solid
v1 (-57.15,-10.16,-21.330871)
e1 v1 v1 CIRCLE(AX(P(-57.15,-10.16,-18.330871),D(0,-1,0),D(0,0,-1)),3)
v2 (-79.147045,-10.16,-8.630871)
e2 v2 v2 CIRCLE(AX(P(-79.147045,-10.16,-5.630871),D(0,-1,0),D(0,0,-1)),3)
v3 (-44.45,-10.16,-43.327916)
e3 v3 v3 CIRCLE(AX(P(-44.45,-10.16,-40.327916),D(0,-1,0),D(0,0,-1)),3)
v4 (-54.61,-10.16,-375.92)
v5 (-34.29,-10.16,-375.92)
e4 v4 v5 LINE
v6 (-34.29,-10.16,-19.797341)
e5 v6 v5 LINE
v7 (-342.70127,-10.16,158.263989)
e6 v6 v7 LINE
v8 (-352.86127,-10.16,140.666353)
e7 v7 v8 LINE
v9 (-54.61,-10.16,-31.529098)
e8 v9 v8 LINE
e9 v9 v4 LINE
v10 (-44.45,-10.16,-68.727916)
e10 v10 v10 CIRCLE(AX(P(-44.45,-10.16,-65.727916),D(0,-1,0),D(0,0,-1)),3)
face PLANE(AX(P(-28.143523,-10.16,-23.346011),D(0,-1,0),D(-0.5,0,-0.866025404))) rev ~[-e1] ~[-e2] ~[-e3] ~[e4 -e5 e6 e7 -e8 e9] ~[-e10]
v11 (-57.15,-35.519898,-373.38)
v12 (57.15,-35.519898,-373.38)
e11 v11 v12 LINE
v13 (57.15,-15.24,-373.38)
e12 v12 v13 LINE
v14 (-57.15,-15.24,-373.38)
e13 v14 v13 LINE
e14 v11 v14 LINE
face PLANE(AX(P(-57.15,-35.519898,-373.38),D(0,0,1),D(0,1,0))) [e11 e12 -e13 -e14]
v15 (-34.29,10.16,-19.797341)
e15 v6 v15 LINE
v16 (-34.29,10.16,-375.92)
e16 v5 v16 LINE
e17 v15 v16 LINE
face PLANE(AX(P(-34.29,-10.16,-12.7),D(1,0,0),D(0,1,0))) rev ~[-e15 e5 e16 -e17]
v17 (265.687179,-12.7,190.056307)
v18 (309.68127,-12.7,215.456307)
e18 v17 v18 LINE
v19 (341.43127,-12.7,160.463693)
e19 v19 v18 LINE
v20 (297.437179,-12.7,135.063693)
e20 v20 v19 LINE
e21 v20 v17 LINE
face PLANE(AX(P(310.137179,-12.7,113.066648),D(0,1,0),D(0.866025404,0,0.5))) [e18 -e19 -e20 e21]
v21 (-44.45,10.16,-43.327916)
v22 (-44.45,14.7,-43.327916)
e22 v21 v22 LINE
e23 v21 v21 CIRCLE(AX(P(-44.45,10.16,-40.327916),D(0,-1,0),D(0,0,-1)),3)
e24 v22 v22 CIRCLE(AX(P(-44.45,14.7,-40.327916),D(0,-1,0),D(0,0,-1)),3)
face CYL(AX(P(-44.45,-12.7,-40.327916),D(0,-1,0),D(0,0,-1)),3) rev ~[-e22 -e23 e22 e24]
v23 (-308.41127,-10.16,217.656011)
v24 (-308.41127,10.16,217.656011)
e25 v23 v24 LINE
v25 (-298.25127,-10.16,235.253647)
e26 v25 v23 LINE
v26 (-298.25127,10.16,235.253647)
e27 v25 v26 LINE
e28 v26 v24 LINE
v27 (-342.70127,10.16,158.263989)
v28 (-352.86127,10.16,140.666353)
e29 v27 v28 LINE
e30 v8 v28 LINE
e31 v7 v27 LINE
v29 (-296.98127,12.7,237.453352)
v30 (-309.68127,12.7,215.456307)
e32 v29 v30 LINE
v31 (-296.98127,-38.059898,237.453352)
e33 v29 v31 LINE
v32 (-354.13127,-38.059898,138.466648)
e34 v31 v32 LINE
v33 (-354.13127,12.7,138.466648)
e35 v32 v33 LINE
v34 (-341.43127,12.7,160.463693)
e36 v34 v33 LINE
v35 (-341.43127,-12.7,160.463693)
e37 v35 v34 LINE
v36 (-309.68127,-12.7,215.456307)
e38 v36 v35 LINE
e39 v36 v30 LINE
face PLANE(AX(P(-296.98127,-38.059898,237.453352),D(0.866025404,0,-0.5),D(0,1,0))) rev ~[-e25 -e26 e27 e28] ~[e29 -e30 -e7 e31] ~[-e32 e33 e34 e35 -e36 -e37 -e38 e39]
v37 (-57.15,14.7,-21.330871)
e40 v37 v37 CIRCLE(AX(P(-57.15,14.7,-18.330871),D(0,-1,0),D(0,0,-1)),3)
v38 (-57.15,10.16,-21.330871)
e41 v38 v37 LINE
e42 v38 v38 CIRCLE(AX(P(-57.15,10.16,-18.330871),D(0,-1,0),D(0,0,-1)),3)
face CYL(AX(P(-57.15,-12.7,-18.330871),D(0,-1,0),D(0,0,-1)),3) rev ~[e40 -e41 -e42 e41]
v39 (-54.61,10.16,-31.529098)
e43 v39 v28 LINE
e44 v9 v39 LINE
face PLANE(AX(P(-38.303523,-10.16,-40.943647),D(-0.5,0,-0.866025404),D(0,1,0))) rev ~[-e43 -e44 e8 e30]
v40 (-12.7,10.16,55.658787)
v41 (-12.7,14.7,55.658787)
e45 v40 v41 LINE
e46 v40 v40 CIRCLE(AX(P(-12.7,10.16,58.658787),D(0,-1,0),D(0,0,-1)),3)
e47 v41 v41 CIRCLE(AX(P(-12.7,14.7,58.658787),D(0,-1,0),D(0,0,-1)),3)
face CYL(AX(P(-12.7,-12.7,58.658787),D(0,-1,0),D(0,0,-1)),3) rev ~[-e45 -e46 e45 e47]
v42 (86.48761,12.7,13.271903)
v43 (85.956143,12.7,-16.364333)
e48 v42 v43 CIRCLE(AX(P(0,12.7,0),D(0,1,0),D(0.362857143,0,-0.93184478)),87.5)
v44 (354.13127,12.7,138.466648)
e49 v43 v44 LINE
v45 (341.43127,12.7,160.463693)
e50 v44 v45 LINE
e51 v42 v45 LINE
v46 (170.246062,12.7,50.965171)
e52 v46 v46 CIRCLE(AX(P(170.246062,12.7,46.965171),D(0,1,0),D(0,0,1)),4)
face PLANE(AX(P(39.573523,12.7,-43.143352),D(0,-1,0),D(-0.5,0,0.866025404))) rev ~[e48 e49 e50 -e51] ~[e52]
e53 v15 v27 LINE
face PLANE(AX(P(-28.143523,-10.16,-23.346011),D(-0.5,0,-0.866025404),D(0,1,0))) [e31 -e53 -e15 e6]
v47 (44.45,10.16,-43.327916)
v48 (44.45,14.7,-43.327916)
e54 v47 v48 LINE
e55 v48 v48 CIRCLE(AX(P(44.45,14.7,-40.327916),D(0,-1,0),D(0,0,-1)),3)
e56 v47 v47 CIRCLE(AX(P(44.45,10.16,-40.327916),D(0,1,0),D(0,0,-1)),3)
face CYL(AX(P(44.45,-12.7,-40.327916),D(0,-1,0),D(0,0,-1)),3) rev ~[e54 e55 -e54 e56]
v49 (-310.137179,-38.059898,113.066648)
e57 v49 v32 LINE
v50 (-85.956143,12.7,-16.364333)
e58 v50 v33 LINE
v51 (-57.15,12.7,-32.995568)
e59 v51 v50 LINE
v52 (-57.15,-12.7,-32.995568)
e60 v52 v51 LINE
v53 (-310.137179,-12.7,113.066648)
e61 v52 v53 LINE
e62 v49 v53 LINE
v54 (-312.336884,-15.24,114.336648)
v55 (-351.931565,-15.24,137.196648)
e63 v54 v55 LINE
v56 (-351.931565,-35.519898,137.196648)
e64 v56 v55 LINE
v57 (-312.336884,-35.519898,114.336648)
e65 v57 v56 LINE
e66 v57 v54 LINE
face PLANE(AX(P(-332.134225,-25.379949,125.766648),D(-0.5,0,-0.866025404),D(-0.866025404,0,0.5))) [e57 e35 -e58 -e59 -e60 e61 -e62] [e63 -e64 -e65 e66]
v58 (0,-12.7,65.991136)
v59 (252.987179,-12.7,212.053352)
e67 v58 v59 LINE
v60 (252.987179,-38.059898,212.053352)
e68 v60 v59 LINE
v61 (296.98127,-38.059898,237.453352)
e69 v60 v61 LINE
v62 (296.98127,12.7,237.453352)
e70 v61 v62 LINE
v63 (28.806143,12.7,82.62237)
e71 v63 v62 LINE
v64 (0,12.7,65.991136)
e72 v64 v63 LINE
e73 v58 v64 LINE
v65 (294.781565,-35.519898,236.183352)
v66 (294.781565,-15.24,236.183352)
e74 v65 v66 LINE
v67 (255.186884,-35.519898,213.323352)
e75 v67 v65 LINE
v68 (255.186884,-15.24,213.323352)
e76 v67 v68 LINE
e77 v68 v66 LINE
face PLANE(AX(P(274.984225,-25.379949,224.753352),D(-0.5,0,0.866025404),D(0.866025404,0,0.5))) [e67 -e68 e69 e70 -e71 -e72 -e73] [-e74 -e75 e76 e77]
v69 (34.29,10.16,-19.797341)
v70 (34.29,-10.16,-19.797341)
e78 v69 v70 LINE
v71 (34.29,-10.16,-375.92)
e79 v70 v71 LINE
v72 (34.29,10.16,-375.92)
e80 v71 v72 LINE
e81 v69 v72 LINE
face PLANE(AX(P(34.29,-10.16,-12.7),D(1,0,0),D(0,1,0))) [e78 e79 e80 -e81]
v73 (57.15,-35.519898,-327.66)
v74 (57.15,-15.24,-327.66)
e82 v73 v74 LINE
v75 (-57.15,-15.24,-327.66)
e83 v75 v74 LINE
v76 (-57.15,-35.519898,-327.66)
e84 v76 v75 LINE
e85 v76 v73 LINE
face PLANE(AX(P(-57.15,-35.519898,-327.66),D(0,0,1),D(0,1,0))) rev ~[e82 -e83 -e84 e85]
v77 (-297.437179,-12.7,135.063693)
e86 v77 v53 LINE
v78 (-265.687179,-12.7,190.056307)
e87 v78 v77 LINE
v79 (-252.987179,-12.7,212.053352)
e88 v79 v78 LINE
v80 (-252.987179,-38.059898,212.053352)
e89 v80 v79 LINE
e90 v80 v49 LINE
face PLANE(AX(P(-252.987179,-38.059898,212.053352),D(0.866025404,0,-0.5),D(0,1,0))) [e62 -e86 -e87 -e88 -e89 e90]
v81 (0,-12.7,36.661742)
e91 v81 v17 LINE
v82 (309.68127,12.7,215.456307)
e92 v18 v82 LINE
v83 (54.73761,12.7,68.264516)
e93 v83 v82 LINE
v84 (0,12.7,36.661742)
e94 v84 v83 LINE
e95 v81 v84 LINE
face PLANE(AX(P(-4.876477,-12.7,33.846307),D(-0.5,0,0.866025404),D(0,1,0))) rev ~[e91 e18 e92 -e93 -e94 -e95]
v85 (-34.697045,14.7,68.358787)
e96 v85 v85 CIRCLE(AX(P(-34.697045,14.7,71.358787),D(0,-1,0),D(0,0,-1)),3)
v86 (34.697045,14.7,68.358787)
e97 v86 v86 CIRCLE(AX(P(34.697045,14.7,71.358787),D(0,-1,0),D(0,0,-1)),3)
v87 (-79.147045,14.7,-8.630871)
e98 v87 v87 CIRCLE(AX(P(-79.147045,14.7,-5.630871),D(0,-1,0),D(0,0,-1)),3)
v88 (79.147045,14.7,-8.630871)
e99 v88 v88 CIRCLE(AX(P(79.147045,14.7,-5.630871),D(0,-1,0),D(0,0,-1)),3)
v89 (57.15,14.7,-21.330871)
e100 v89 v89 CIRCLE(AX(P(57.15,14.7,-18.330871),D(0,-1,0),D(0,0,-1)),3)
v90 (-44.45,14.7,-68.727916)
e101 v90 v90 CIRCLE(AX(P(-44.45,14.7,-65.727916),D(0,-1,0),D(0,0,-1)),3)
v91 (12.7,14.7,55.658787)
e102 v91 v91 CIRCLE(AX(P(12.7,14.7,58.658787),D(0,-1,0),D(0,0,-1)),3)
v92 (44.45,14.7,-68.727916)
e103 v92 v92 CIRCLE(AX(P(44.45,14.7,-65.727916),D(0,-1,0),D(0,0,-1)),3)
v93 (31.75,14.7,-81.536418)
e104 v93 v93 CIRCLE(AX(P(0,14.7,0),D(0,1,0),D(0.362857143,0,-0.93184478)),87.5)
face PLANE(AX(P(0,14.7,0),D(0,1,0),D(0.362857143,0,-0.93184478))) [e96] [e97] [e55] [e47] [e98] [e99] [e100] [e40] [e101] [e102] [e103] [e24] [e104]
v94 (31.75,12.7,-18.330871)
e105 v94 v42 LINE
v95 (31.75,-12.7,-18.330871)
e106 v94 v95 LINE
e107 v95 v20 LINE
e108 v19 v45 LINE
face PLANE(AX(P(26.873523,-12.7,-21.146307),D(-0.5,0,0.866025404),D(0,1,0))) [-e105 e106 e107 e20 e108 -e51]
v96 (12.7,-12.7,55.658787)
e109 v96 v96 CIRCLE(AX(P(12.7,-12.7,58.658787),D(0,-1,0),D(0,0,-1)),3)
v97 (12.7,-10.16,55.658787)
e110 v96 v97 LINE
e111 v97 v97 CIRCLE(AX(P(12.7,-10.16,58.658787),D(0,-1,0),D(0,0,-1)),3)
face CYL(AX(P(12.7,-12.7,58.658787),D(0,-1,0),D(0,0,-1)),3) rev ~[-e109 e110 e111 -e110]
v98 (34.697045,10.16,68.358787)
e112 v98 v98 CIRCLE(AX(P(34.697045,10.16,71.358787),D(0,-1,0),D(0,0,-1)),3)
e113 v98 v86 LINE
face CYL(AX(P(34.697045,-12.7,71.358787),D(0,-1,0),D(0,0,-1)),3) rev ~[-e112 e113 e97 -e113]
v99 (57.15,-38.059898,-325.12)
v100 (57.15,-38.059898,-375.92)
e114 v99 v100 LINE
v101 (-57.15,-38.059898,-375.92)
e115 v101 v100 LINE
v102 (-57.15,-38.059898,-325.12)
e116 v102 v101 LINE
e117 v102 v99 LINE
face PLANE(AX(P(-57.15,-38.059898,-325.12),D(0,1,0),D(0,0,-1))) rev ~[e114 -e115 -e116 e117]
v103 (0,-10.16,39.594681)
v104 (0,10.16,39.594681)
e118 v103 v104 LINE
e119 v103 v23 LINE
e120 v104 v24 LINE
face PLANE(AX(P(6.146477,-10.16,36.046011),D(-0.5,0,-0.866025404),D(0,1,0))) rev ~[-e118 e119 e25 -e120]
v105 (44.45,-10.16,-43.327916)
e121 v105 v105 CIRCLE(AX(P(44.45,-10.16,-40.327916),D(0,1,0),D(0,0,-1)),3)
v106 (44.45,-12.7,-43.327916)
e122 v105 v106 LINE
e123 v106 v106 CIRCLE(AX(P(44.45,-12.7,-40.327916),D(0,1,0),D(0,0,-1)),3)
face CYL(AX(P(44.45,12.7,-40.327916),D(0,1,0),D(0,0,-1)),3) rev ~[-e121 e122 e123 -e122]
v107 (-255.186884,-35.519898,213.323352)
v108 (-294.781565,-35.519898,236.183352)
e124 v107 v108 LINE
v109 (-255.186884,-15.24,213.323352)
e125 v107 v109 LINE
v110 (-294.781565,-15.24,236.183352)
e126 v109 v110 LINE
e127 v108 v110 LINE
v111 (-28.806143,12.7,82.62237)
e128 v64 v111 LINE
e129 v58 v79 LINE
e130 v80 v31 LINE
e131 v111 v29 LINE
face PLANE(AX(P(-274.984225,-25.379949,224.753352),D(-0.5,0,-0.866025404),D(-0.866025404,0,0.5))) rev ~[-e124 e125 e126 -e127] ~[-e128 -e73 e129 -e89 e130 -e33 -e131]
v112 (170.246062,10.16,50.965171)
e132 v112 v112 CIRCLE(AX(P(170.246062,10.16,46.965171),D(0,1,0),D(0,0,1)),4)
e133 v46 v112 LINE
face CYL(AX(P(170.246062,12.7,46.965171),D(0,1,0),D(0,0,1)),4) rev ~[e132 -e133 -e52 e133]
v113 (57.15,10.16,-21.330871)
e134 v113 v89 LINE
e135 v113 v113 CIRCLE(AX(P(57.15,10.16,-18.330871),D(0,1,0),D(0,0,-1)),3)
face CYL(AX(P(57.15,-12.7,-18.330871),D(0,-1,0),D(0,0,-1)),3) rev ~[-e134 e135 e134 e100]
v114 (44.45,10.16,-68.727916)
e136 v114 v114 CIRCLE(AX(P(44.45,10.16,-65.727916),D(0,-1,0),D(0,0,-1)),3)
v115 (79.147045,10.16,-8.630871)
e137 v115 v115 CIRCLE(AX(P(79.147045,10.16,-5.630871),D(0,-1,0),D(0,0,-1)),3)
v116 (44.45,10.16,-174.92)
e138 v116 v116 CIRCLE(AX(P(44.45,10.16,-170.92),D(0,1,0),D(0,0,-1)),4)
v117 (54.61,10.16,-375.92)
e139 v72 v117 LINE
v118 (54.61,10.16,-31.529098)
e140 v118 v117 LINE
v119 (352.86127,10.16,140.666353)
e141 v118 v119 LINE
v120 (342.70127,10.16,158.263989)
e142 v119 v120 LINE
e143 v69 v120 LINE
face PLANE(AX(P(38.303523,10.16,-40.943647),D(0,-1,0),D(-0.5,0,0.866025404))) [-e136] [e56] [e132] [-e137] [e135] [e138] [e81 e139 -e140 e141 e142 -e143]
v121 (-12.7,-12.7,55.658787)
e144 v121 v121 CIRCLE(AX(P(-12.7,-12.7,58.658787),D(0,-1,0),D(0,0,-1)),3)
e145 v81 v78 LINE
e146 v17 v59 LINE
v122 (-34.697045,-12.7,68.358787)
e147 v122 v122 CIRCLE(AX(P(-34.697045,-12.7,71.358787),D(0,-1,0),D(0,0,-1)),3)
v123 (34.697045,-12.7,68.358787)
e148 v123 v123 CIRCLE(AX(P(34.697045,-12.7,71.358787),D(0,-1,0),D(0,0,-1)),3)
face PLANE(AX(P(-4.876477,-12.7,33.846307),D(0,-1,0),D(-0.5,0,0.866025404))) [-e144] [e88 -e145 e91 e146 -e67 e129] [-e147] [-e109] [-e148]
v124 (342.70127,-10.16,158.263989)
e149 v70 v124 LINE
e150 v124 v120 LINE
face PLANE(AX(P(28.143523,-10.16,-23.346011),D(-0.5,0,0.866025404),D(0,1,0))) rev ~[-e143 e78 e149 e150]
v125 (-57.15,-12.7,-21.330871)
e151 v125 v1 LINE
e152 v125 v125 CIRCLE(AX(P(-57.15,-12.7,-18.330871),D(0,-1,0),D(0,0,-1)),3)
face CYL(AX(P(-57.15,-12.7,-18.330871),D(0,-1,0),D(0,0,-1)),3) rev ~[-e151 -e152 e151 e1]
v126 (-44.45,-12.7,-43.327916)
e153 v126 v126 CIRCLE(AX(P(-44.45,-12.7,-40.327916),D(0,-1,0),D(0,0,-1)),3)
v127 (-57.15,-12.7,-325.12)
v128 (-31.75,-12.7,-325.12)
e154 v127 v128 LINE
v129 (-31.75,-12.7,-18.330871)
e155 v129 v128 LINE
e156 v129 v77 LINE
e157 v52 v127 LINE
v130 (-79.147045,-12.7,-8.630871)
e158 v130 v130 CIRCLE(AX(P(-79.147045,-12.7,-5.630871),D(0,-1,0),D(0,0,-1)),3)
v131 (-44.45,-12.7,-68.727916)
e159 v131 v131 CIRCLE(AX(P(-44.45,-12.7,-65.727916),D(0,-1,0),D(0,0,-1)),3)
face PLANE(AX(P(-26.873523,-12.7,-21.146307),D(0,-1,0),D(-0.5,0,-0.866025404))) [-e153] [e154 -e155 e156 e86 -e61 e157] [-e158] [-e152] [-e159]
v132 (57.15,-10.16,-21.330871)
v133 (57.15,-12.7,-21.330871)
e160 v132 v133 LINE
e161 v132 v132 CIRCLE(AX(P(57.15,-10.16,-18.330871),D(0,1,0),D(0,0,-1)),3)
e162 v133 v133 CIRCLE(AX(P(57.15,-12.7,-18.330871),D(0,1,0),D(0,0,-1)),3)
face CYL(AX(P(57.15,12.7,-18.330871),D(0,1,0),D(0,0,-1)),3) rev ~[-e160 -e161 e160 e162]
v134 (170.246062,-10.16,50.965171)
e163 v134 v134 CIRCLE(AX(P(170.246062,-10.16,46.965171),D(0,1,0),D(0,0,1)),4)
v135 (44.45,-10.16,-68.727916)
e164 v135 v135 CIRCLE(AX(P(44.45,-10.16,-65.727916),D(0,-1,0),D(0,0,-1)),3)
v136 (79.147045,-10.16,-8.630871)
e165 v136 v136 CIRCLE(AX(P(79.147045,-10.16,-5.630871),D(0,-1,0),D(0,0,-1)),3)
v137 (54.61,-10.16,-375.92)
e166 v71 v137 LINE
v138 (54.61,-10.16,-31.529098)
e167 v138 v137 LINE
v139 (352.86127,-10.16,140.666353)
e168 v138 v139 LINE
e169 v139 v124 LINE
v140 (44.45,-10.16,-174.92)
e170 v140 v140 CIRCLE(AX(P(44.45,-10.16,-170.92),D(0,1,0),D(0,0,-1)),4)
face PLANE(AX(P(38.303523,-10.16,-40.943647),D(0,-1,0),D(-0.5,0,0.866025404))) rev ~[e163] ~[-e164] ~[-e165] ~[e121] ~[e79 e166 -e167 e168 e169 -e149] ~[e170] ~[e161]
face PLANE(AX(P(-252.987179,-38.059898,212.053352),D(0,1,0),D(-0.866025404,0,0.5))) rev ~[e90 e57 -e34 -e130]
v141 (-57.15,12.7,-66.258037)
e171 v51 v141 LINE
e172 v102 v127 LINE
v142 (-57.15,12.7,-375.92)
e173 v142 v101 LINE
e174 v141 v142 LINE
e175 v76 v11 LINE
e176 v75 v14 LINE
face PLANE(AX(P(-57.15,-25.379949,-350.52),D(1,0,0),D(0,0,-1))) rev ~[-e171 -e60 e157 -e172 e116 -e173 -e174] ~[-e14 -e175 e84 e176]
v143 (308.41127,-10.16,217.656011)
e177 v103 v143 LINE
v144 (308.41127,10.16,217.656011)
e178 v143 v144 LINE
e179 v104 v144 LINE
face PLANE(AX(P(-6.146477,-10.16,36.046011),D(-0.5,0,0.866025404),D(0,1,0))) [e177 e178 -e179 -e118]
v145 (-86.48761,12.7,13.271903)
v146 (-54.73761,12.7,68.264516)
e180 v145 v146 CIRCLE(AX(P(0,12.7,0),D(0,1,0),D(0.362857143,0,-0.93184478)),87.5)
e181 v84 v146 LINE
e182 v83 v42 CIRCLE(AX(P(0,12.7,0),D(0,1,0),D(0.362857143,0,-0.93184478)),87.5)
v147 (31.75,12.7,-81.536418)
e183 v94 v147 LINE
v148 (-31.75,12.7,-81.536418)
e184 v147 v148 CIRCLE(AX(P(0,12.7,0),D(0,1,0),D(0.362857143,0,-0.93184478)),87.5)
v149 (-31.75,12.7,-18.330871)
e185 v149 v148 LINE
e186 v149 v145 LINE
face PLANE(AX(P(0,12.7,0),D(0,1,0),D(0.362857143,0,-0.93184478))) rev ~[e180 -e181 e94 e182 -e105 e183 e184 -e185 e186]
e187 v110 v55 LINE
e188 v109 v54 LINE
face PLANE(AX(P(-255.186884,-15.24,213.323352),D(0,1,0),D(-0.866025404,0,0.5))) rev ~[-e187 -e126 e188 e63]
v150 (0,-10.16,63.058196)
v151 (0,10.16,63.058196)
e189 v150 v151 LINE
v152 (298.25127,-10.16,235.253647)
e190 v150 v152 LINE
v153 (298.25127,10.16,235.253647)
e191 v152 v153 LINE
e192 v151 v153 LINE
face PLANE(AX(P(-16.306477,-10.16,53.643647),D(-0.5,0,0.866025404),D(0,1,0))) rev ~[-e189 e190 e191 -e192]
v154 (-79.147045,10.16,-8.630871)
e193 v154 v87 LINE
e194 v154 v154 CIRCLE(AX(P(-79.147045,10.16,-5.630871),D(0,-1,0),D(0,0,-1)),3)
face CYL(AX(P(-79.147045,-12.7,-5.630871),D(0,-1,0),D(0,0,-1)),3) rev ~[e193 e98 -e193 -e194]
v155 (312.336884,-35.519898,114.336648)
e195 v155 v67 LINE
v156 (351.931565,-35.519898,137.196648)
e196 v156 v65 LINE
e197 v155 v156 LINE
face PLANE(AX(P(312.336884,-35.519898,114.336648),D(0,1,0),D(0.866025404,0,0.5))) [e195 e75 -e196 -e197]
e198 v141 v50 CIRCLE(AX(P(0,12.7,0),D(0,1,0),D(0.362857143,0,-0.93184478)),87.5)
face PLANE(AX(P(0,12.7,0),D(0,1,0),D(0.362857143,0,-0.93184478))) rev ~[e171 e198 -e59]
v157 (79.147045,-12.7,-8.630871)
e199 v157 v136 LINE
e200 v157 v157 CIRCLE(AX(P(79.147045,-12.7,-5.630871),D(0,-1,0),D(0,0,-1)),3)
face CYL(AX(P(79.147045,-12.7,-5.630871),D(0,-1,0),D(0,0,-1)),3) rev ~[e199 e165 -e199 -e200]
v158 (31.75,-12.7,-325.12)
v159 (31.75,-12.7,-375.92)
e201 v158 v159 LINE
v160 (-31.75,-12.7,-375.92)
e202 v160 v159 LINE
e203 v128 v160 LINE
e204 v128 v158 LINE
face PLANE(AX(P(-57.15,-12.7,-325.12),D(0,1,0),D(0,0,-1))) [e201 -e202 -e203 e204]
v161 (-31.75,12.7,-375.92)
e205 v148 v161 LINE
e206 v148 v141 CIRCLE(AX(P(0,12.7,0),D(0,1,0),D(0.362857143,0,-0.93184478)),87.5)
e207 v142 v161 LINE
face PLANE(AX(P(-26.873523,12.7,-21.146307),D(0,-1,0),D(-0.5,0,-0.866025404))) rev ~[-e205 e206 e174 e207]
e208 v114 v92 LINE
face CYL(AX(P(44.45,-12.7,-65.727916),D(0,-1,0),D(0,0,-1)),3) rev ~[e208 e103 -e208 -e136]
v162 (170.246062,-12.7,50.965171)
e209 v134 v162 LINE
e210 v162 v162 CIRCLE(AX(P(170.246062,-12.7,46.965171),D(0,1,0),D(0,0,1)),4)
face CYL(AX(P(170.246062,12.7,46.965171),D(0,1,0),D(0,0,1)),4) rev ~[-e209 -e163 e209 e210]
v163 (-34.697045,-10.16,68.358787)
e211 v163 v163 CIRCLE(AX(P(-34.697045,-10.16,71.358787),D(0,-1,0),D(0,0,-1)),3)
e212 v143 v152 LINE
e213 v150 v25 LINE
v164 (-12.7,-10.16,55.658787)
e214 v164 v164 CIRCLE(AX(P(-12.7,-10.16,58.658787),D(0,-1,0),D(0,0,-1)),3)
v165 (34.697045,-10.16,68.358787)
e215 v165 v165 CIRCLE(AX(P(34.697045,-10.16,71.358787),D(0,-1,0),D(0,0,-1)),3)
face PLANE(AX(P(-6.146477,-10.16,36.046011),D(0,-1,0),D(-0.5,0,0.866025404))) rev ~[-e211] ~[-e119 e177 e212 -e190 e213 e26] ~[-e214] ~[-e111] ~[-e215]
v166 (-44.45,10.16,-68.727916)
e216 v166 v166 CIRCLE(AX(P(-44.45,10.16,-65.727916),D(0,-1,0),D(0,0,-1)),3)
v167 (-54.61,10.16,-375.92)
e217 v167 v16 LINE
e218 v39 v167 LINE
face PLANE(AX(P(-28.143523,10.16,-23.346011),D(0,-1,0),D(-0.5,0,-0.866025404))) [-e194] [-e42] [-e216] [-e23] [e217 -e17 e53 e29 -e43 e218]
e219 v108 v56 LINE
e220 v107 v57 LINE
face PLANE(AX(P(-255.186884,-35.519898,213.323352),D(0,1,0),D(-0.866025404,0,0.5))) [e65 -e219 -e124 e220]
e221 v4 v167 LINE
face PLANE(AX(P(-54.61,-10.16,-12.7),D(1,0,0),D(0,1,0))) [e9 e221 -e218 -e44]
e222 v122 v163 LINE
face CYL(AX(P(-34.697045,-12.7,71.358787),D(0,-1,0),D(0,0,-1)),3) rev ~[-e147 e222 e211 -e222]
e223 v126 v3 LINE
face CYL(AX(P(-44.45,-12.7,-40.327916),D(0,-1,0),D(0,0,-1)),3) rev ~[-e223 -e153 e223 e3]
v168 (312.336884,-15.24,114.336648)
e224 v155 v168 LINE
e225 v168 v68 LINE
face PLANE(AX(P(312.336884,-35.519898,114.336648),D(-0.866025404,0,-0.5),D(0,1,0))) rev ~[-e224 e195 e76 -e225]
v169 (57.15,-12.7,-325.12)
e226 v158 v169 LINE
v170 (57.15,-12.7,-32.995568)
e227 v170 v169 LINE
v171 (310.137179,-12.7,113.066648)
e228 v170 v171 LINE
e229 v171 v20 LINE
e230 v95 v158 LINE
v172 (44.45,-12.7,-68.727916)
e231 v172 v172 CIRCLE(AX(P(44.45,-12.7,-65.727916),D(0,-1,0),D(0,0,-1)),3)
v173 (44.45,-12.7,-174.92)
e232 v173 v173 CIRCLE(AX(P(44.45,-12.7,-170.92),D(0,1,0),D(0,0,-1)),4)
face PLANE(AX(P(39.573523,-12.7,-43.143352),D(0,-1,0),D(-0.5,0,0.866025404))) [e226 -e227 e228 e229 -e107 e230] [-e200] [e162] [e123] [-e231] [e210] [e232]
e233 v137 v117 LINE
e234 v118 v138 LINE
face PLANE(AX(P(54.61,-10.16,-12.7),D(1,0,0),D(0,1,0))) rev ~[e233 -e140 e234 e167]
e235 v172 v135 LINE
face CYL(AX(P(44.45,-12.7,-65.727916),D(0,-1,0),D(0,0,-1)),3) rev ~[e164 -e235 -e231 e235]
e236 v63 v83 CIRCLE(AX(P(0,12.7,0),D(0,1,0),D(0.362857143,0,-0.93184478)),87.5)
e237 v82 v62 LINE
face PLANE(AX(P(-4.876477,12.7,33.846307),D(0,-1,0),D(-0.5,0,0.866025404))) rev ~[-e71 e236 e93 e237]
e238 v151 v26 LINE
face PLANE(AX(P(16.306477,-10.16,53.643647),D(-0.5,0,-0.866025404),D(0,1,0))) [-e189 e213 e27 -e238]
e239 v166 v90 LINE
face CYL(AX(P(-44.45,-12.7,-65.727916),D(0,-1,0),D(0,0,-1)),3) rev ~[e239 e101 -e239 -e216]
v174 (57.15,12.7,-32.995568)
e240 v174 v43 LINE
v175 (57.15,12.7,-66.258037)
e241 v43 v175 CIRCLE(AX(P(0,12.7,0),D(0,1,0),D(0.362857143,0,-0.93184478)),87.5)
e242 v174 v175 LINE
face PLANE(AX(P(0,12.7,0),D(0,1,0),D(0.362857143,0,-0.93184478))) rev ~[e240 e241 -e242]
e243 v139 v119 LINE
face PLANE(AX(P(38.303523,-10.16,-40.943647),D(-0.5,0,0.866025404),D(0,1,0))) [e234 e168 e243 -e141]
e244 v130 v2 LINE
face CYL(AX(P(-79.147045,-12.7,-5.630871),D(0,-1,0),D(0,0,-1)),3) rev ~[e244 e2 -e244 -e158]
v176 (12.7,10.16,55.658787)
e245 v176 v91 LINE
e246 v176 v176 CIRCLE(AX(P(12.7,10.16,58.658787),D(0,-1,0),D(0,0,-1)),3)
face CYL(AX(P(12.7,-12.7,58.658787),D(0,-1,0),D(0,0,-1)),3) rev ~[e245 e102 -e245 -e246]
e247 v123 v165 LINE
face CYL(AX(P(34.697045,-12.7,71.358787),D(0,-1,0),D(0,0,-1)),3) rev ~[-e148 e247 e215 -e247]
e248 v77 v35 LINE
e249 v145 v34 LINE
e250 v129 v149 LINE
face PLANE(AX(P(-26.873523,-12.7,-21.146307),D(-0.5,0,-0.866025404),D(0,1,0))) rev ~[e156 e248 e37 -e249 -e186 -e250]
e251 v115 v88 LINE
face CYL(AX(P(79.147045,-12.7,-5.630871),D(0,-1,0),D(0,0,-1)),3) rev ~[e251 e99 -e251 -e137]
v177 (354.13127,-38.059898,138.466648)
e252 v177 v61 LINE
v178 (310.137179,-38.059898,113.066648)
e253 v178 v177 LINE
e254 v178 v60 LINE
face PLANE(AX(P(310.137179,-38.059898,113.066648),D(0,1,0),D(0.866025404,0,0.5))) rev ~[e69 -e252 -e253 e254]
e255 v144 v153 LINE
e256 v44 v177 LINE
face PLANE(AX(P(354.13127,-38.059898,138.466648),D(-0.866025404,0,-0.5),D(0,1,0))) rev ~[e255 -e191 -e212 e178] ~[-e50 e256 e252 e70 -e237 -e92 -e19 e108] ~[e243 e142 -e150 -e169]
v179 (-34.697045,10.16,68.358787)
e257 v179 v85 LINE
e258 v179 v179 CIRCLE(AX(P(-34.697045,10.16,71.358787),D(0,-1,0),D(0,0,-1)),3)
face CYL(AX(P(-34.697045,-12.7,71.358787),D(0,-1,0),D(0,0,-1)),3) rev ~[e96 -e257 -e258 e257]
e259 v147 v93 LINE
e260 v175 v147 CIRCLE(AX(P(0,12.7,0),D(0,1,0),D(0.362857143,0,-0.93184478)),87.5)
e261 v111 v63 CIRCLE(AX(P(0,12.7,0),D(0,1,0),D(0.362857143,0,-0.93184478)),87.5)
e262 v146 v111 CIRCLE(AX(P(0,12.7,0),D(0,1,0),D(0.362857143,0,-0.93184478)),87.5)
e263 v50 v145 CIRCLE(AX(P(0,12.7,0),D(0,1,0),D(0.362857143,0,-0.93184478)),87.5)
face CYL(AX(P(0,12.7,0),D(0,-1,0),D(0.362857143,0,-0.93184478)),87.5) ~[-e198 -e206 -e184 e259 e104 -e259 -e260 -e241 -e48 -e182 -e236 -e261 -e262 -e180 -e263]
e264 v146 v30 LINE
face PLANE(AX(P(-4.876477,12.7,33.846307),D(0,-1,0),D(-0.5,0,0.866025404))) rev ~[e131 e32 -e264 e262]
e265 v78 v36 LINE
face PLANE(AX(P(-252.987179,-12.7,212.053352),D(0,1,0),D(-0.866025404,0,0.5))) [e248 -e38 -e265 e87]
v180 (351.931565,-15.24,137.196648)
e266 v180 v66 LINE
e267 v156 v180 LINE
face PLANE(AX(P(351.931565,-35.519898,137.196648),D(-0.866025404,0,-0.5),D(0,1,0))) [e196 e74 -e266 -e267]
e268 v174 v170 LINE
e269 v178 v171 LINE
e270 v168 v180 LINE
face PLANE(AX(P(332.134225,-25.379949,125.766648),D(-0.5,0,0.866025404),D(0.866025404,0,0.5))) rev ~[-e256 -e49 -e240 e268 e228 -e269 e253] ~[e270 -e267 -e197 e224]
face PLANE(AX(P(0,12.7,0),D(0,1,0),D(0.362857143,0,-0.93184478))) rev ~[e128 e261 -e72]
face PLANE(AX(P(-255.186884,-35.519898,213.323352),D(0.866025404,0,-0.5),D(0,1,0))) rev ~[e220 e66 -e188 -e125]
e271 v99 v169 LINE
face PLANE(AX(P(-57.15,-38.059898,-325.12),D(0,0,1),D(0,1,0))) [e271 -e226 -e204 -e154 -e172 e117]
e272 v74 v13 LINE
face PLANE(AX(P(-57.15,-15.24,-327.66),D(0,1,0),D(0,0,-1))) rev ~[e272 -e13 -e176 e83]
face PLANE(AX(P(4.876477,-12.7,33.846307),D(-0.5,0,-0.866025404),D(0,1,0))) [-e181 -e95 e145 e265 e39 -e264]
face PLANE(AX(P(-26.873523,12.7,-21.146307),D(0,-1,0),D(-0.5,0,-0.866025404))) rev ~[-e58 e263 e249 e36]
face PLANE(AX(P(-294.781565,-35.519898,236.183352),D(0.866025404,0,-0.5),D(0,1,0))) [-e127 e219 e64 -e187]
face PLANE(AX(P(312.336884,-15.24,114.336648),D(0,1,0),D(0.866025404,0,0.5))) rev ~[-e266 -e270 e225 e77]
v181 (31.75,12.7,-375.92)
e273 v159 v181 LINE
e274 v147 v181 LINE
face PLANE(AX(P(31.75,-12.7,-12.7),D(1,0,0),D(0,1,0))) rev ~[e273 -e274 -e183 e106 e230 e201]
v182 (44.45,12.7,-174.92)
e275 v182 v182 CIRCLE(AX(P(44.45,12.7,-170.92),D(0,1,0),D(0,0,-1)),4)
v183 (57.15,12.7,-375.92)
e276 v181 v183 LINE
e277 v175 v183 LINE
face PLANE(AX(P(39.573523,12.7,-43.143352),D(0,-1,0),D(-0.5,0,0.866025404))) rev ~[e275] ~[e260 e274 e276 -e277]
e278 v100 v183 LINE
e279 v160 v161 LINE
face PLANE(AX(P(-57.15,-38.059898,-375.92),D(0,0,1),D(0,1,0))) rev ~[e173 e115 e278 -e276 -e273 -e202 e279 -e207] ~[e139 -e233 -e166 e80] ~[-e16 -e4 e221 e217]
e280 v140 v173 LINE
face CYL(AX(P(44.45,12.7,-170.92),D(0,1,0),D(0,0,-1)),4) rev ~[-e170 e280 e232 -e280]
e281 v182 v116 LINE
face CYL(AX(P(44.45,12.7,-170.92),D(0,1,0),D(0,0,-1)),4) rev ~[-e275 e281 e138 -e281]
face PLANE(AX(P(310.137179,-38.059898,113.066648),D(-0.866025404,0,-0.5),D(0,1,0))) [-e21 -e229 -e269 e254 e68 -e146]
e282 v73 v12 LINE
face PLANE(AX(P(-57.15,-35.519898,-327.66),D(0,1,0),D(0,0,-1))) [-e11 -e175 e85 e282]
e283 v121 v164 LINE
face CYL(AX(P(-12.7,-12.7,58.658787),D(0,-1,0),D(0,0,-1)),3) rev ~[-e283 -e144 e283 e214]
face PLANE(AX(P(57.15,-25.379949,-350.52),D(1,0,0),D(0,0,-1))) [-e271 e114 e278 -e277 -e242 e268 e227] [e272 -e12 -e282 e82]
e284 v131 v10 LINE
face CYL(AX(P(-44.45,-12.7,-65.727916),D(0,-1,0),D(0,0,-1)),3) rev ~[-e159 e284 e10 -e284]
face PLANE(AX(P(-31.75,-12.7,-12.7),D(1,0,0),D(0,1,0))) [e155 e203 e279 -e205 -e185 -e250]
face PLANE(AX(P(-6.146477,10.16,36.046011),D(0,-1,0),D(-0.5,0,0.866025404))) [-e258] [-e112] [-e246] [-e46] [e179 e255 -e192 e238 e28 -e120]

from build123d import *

# Parameters (mm, degrees)
SKETCH6_W             = 25.4
SKETCH6_H             = 25.4
SKETCH6_W_2           = 20.32
SKETCH6_H_2           = 20.32
BOSS_EXTRUDE3_DEPTH   = 363.22
BOSS_EXTRUDE3_2_DEPTH = 363.22
SKETCH7_W             = 50.8
SKETCH7_H             = 25.359897542
SKETCH7_W_2           = 45.72
SKETCH7_H_2           = 20.279897542
BOSS_EXTRUDE4_DEPTH   = 114.3
CUT_EXTRUDE1_DEPTH    = 384.612481677
CUT_EXTRUDE2_DEPTH    = 384.612481677
CIRPATTERN1_COUNT     = 3
SKETCH12_R            = 3
CUT_EXTRUDE3_DEPTH    = 519.942549655
SKETCH13_R            = 87.5
BOSS_EXTRUDE6_DEPTH   = 2
SKETCH14_R            = 3
CUT_EXTRUDE4_DEPTH    = 518.180396616
SKETCH15_R            = 4
CUT_EXTRUDE5_DEPTH    = 519.942549655
SKETCH16_R            = 4
CUT_EXTRUDE6_DEPTH    = 519.942549655


with BuildPart() as part:
    # Sketch6 → Boss-Extrude3 (new body)
    with BuildSketch(Plane.XY.offset(-12.7)):
        with Locations((-44.45, 0)):
            Rectangle(SKETCH6_W, SKETCH6_H)
        with Locations((-44.45, 0)):
            Rectangle(SKETCH6_W_2, SKETCH6_H_2, mode=Mode.SUBTRACT)
    extrude(amount=-BOSS_EXTRUDE3_DEPTH)



with BuildPart() as body_2:
    # Sketch6 → Boss-Extrude3 2 (new body)
    with BuildSketch(Plane.XY.offset(-12.7)):
        with Locations((44.45, 0)):
            Rectangle(SKETCH6_W, SKETCH6_H)
        with Locations((44.45, 0)):
            Rectangle(SKETCH6_W_2, SKETCH6_H_2, mode=Mode.SUBTRACT)
    extrude(amount=-BOSS_EXTRUDE3_2_DEPTH)


with BuildPart() as part_1:
    add(part.part)

    add(body_2.part)  # Boss-Extrude4 merges body 2
    # Sketch7 → Boss-Extrude4 (add)
    with BuildSketch(Plane(origin=(-57.15, 0, 0), x_dir=(0, 0, -1), z_dir=(1, 0, 0))):
        with Locations((350.52, -25.379948771)):
            Rectangle(SKETCH7_W, SKETCH7_H)
        with Locations((350.52, -25.379948771)):
            Rectangle(SKETCH7_W_2, SKETCH7_H_2, mode=Mode.SUBTRACT)
    extrude(amount=BOSS_EXTRUDE4_DEPTH)

    # Sketch9 → Cut-Extrude1 (cut, through all)
    with BuildSketch(Plane(origin=(0, 12.7, 0), x_dir=(1, 0, 0), z_dir=(0, 1, 0))):
        Polygon((0, 0), (66.166370432, 38.20117178), (56.531711502, -13.195312554), align=None)
    extrude(amount=-CUT_EXTRUDE1_DEPTH, mode=Mode.SUBTRACT)

    # Sketch10 → Cut-Extrude2 (cut, through all)
    with BuildSketch(Plane(origin=(0, 12.7, 0), x_dir=(1, 0, 0), z_dir=(0, 1, 0))):
        Polygon((0, 0), (-91.357136084, 52.74506711), (-72.051101597, -19.306034487), align=None)
    extrude(amount=-CUT_EXTRUDE2_DEPTH, mode=Mode.SUBTRACT)


with BuildPart() as cirpattern1_1:
    # CirPattern1: pattern copy
    add(part_1.part.rotate(Axis((0, 0, 0), (0, 1, 0)), 1 * 360 / CIRPATTERN1_COUNT))


with BuildPart() as cirpattern1_2:
    # CirPattern1: pattern copy
    add(part_1.part.rotate(Axis((0, 0, 0), (0, 1, 0)), 2 * 360 / CIRPATTERN1_COUNT))


with BuildPart() as cut_extrude3_tool:
    # Sketch12 → Cut-Extrude3 (new, through all)
    with BuildSketch(Plane(origin=(0, 12.7, 0), x_dir=(1, 0, 0), z_dir=(0, 1, 0))):
        with Locations(Location((44.45, 40.327916303, 0), (0, 0, 90))):
            Circle(SKETCH12_R)
        with Locations(Location((57.15, 18.330871047, 0), (0, 0, 90))):
            Circle(SKETCH12_R)
    extrude(amount=-CUT_EXTRUDE3_DEPTH)


with BuildPart() as part_2:
    add(part_1.part)

    # Cut-Extrude3: cut by cut_extrude3_tool
    add(cut_extrude3_tool.part, mode=Mode.SUBTRACT)


    add(cirpattern1_1.part)  # Boss-Extrude6 merges CirPattern1_1


with BuildPart() as cirpattern1_2_1:
    add(cirpattern1_2.part)

    # Cut-Extrude3: cut by cut_extrude3_tool
    add(cut_extrude3_tool.part, mode=Mode.SUBTRACT)


with BuildPart() as part_3:
    add(part_2.part)

    add(cirpattern1_2_1.part)  # Boss-Extrude6 merges CirPattern1_2
    # Sketch13 → Boss-Extrude6 (add)
    with BuildSketch(Plane(origin=(0, 12.7, 0), x_dir=(1, 0, 0), z_dir=(0, 1, 0))):
        with Locations(Location((0, 0, 0), (0, 0, 68.724233024))):
            Circle(SKETCH13_R)
    extrude(amount=BOSS_EXTRUDE6_DEPTH)

    # Sketch14 → Cut-Extrude4 (cut, through all)
    with BuildSketch(Plane.XZ.offset(12.7)):
        with Locations(Location((57.15, -18.330871047, 0), (0, 0, 270))):
            Circle(SKETCH14_R)
        with Locations(Location((44.45, -40.327916303, 0), (0, 0, 270))):
            Circle(SKETCH14_R)
        with Locations(Location((-57.15, -18.330871047, 0), (0, 0, 270))):
            Circle(SKETCH14_R)
        with Locations(Location((-44.45, -40.327916303, 0), (0, 0, 270))):
            Circle(SKETCH14_R)
        with Locations(Location((12.7, 58.65878735, 0), (0, 0, 270))):
            Circle(SKETCH14_R)
        with Locations(Location((-12.7, 58.65878735, 0), (0, 0, 270))):
            Circle(SKETCH14_R)
        with Locations(Location((44.45, -65.727916303, 0), (0, 0, 270))):
            Circle(SKETCH14_R)
        with Locations(Location((79.147045256, -5.630871047, 0), (0, 0, 270))):
            Circle(SKETCH14_R)
        with Locations(Location((34.697045256, 71.35878735, 0), (0, 0, 270))):
            Circle(SKETCH14_R)
        with Locations(Location((-34.697045256, 71.35878735, 0), (0, 0, 270))):
            Circle(SKETCH14_R)
        with Locations(Location((-79.147045256, -5.630871047, 0), (0, 0, 270))):
            Circle(SKETCH14_R)
        with Locations(Location((-44.45, -65.727916303, 0), (0, 0, 270))):
            Circle(SKETCH14_R)
    extrude(amount=-CUT_EXTRUDE4_DEPTH, mode=Mode.SUBTRACT)

    # Sketch15 → Cut-Extrude5 (cut, through all)
    with BuildSketch(Plane(origin=(0, 12.7, 0), x_dir=(1, 0, 0), z_dir=(0, 1, 0))):
        with Locations(Location((44.45, 170.92, 0), (0, 0, 90))):
            Circle(SKETCH15_R)
    extrude(amount=-CUT_EXTRUDE5_DEPTH, mode=Mode.SUBTRACT)

    # Sketch16 → Cut-Extrude6 (cut, through all)
    with BuildSketch(Plane(origin=(0, 12.7, 0), x_dir=(1, 0, 0), z_dir=(0, 1, 0))):
        with Locations(Location((170.246062015, -46.965170802, 0), (0, 0, 270))):
            Circle(SKETCH16_R)
    extrude(amount=-CUT_EXTRUDE6_DEPTH, mode=Mode.SUBTRACT)


solid = part_3.part
